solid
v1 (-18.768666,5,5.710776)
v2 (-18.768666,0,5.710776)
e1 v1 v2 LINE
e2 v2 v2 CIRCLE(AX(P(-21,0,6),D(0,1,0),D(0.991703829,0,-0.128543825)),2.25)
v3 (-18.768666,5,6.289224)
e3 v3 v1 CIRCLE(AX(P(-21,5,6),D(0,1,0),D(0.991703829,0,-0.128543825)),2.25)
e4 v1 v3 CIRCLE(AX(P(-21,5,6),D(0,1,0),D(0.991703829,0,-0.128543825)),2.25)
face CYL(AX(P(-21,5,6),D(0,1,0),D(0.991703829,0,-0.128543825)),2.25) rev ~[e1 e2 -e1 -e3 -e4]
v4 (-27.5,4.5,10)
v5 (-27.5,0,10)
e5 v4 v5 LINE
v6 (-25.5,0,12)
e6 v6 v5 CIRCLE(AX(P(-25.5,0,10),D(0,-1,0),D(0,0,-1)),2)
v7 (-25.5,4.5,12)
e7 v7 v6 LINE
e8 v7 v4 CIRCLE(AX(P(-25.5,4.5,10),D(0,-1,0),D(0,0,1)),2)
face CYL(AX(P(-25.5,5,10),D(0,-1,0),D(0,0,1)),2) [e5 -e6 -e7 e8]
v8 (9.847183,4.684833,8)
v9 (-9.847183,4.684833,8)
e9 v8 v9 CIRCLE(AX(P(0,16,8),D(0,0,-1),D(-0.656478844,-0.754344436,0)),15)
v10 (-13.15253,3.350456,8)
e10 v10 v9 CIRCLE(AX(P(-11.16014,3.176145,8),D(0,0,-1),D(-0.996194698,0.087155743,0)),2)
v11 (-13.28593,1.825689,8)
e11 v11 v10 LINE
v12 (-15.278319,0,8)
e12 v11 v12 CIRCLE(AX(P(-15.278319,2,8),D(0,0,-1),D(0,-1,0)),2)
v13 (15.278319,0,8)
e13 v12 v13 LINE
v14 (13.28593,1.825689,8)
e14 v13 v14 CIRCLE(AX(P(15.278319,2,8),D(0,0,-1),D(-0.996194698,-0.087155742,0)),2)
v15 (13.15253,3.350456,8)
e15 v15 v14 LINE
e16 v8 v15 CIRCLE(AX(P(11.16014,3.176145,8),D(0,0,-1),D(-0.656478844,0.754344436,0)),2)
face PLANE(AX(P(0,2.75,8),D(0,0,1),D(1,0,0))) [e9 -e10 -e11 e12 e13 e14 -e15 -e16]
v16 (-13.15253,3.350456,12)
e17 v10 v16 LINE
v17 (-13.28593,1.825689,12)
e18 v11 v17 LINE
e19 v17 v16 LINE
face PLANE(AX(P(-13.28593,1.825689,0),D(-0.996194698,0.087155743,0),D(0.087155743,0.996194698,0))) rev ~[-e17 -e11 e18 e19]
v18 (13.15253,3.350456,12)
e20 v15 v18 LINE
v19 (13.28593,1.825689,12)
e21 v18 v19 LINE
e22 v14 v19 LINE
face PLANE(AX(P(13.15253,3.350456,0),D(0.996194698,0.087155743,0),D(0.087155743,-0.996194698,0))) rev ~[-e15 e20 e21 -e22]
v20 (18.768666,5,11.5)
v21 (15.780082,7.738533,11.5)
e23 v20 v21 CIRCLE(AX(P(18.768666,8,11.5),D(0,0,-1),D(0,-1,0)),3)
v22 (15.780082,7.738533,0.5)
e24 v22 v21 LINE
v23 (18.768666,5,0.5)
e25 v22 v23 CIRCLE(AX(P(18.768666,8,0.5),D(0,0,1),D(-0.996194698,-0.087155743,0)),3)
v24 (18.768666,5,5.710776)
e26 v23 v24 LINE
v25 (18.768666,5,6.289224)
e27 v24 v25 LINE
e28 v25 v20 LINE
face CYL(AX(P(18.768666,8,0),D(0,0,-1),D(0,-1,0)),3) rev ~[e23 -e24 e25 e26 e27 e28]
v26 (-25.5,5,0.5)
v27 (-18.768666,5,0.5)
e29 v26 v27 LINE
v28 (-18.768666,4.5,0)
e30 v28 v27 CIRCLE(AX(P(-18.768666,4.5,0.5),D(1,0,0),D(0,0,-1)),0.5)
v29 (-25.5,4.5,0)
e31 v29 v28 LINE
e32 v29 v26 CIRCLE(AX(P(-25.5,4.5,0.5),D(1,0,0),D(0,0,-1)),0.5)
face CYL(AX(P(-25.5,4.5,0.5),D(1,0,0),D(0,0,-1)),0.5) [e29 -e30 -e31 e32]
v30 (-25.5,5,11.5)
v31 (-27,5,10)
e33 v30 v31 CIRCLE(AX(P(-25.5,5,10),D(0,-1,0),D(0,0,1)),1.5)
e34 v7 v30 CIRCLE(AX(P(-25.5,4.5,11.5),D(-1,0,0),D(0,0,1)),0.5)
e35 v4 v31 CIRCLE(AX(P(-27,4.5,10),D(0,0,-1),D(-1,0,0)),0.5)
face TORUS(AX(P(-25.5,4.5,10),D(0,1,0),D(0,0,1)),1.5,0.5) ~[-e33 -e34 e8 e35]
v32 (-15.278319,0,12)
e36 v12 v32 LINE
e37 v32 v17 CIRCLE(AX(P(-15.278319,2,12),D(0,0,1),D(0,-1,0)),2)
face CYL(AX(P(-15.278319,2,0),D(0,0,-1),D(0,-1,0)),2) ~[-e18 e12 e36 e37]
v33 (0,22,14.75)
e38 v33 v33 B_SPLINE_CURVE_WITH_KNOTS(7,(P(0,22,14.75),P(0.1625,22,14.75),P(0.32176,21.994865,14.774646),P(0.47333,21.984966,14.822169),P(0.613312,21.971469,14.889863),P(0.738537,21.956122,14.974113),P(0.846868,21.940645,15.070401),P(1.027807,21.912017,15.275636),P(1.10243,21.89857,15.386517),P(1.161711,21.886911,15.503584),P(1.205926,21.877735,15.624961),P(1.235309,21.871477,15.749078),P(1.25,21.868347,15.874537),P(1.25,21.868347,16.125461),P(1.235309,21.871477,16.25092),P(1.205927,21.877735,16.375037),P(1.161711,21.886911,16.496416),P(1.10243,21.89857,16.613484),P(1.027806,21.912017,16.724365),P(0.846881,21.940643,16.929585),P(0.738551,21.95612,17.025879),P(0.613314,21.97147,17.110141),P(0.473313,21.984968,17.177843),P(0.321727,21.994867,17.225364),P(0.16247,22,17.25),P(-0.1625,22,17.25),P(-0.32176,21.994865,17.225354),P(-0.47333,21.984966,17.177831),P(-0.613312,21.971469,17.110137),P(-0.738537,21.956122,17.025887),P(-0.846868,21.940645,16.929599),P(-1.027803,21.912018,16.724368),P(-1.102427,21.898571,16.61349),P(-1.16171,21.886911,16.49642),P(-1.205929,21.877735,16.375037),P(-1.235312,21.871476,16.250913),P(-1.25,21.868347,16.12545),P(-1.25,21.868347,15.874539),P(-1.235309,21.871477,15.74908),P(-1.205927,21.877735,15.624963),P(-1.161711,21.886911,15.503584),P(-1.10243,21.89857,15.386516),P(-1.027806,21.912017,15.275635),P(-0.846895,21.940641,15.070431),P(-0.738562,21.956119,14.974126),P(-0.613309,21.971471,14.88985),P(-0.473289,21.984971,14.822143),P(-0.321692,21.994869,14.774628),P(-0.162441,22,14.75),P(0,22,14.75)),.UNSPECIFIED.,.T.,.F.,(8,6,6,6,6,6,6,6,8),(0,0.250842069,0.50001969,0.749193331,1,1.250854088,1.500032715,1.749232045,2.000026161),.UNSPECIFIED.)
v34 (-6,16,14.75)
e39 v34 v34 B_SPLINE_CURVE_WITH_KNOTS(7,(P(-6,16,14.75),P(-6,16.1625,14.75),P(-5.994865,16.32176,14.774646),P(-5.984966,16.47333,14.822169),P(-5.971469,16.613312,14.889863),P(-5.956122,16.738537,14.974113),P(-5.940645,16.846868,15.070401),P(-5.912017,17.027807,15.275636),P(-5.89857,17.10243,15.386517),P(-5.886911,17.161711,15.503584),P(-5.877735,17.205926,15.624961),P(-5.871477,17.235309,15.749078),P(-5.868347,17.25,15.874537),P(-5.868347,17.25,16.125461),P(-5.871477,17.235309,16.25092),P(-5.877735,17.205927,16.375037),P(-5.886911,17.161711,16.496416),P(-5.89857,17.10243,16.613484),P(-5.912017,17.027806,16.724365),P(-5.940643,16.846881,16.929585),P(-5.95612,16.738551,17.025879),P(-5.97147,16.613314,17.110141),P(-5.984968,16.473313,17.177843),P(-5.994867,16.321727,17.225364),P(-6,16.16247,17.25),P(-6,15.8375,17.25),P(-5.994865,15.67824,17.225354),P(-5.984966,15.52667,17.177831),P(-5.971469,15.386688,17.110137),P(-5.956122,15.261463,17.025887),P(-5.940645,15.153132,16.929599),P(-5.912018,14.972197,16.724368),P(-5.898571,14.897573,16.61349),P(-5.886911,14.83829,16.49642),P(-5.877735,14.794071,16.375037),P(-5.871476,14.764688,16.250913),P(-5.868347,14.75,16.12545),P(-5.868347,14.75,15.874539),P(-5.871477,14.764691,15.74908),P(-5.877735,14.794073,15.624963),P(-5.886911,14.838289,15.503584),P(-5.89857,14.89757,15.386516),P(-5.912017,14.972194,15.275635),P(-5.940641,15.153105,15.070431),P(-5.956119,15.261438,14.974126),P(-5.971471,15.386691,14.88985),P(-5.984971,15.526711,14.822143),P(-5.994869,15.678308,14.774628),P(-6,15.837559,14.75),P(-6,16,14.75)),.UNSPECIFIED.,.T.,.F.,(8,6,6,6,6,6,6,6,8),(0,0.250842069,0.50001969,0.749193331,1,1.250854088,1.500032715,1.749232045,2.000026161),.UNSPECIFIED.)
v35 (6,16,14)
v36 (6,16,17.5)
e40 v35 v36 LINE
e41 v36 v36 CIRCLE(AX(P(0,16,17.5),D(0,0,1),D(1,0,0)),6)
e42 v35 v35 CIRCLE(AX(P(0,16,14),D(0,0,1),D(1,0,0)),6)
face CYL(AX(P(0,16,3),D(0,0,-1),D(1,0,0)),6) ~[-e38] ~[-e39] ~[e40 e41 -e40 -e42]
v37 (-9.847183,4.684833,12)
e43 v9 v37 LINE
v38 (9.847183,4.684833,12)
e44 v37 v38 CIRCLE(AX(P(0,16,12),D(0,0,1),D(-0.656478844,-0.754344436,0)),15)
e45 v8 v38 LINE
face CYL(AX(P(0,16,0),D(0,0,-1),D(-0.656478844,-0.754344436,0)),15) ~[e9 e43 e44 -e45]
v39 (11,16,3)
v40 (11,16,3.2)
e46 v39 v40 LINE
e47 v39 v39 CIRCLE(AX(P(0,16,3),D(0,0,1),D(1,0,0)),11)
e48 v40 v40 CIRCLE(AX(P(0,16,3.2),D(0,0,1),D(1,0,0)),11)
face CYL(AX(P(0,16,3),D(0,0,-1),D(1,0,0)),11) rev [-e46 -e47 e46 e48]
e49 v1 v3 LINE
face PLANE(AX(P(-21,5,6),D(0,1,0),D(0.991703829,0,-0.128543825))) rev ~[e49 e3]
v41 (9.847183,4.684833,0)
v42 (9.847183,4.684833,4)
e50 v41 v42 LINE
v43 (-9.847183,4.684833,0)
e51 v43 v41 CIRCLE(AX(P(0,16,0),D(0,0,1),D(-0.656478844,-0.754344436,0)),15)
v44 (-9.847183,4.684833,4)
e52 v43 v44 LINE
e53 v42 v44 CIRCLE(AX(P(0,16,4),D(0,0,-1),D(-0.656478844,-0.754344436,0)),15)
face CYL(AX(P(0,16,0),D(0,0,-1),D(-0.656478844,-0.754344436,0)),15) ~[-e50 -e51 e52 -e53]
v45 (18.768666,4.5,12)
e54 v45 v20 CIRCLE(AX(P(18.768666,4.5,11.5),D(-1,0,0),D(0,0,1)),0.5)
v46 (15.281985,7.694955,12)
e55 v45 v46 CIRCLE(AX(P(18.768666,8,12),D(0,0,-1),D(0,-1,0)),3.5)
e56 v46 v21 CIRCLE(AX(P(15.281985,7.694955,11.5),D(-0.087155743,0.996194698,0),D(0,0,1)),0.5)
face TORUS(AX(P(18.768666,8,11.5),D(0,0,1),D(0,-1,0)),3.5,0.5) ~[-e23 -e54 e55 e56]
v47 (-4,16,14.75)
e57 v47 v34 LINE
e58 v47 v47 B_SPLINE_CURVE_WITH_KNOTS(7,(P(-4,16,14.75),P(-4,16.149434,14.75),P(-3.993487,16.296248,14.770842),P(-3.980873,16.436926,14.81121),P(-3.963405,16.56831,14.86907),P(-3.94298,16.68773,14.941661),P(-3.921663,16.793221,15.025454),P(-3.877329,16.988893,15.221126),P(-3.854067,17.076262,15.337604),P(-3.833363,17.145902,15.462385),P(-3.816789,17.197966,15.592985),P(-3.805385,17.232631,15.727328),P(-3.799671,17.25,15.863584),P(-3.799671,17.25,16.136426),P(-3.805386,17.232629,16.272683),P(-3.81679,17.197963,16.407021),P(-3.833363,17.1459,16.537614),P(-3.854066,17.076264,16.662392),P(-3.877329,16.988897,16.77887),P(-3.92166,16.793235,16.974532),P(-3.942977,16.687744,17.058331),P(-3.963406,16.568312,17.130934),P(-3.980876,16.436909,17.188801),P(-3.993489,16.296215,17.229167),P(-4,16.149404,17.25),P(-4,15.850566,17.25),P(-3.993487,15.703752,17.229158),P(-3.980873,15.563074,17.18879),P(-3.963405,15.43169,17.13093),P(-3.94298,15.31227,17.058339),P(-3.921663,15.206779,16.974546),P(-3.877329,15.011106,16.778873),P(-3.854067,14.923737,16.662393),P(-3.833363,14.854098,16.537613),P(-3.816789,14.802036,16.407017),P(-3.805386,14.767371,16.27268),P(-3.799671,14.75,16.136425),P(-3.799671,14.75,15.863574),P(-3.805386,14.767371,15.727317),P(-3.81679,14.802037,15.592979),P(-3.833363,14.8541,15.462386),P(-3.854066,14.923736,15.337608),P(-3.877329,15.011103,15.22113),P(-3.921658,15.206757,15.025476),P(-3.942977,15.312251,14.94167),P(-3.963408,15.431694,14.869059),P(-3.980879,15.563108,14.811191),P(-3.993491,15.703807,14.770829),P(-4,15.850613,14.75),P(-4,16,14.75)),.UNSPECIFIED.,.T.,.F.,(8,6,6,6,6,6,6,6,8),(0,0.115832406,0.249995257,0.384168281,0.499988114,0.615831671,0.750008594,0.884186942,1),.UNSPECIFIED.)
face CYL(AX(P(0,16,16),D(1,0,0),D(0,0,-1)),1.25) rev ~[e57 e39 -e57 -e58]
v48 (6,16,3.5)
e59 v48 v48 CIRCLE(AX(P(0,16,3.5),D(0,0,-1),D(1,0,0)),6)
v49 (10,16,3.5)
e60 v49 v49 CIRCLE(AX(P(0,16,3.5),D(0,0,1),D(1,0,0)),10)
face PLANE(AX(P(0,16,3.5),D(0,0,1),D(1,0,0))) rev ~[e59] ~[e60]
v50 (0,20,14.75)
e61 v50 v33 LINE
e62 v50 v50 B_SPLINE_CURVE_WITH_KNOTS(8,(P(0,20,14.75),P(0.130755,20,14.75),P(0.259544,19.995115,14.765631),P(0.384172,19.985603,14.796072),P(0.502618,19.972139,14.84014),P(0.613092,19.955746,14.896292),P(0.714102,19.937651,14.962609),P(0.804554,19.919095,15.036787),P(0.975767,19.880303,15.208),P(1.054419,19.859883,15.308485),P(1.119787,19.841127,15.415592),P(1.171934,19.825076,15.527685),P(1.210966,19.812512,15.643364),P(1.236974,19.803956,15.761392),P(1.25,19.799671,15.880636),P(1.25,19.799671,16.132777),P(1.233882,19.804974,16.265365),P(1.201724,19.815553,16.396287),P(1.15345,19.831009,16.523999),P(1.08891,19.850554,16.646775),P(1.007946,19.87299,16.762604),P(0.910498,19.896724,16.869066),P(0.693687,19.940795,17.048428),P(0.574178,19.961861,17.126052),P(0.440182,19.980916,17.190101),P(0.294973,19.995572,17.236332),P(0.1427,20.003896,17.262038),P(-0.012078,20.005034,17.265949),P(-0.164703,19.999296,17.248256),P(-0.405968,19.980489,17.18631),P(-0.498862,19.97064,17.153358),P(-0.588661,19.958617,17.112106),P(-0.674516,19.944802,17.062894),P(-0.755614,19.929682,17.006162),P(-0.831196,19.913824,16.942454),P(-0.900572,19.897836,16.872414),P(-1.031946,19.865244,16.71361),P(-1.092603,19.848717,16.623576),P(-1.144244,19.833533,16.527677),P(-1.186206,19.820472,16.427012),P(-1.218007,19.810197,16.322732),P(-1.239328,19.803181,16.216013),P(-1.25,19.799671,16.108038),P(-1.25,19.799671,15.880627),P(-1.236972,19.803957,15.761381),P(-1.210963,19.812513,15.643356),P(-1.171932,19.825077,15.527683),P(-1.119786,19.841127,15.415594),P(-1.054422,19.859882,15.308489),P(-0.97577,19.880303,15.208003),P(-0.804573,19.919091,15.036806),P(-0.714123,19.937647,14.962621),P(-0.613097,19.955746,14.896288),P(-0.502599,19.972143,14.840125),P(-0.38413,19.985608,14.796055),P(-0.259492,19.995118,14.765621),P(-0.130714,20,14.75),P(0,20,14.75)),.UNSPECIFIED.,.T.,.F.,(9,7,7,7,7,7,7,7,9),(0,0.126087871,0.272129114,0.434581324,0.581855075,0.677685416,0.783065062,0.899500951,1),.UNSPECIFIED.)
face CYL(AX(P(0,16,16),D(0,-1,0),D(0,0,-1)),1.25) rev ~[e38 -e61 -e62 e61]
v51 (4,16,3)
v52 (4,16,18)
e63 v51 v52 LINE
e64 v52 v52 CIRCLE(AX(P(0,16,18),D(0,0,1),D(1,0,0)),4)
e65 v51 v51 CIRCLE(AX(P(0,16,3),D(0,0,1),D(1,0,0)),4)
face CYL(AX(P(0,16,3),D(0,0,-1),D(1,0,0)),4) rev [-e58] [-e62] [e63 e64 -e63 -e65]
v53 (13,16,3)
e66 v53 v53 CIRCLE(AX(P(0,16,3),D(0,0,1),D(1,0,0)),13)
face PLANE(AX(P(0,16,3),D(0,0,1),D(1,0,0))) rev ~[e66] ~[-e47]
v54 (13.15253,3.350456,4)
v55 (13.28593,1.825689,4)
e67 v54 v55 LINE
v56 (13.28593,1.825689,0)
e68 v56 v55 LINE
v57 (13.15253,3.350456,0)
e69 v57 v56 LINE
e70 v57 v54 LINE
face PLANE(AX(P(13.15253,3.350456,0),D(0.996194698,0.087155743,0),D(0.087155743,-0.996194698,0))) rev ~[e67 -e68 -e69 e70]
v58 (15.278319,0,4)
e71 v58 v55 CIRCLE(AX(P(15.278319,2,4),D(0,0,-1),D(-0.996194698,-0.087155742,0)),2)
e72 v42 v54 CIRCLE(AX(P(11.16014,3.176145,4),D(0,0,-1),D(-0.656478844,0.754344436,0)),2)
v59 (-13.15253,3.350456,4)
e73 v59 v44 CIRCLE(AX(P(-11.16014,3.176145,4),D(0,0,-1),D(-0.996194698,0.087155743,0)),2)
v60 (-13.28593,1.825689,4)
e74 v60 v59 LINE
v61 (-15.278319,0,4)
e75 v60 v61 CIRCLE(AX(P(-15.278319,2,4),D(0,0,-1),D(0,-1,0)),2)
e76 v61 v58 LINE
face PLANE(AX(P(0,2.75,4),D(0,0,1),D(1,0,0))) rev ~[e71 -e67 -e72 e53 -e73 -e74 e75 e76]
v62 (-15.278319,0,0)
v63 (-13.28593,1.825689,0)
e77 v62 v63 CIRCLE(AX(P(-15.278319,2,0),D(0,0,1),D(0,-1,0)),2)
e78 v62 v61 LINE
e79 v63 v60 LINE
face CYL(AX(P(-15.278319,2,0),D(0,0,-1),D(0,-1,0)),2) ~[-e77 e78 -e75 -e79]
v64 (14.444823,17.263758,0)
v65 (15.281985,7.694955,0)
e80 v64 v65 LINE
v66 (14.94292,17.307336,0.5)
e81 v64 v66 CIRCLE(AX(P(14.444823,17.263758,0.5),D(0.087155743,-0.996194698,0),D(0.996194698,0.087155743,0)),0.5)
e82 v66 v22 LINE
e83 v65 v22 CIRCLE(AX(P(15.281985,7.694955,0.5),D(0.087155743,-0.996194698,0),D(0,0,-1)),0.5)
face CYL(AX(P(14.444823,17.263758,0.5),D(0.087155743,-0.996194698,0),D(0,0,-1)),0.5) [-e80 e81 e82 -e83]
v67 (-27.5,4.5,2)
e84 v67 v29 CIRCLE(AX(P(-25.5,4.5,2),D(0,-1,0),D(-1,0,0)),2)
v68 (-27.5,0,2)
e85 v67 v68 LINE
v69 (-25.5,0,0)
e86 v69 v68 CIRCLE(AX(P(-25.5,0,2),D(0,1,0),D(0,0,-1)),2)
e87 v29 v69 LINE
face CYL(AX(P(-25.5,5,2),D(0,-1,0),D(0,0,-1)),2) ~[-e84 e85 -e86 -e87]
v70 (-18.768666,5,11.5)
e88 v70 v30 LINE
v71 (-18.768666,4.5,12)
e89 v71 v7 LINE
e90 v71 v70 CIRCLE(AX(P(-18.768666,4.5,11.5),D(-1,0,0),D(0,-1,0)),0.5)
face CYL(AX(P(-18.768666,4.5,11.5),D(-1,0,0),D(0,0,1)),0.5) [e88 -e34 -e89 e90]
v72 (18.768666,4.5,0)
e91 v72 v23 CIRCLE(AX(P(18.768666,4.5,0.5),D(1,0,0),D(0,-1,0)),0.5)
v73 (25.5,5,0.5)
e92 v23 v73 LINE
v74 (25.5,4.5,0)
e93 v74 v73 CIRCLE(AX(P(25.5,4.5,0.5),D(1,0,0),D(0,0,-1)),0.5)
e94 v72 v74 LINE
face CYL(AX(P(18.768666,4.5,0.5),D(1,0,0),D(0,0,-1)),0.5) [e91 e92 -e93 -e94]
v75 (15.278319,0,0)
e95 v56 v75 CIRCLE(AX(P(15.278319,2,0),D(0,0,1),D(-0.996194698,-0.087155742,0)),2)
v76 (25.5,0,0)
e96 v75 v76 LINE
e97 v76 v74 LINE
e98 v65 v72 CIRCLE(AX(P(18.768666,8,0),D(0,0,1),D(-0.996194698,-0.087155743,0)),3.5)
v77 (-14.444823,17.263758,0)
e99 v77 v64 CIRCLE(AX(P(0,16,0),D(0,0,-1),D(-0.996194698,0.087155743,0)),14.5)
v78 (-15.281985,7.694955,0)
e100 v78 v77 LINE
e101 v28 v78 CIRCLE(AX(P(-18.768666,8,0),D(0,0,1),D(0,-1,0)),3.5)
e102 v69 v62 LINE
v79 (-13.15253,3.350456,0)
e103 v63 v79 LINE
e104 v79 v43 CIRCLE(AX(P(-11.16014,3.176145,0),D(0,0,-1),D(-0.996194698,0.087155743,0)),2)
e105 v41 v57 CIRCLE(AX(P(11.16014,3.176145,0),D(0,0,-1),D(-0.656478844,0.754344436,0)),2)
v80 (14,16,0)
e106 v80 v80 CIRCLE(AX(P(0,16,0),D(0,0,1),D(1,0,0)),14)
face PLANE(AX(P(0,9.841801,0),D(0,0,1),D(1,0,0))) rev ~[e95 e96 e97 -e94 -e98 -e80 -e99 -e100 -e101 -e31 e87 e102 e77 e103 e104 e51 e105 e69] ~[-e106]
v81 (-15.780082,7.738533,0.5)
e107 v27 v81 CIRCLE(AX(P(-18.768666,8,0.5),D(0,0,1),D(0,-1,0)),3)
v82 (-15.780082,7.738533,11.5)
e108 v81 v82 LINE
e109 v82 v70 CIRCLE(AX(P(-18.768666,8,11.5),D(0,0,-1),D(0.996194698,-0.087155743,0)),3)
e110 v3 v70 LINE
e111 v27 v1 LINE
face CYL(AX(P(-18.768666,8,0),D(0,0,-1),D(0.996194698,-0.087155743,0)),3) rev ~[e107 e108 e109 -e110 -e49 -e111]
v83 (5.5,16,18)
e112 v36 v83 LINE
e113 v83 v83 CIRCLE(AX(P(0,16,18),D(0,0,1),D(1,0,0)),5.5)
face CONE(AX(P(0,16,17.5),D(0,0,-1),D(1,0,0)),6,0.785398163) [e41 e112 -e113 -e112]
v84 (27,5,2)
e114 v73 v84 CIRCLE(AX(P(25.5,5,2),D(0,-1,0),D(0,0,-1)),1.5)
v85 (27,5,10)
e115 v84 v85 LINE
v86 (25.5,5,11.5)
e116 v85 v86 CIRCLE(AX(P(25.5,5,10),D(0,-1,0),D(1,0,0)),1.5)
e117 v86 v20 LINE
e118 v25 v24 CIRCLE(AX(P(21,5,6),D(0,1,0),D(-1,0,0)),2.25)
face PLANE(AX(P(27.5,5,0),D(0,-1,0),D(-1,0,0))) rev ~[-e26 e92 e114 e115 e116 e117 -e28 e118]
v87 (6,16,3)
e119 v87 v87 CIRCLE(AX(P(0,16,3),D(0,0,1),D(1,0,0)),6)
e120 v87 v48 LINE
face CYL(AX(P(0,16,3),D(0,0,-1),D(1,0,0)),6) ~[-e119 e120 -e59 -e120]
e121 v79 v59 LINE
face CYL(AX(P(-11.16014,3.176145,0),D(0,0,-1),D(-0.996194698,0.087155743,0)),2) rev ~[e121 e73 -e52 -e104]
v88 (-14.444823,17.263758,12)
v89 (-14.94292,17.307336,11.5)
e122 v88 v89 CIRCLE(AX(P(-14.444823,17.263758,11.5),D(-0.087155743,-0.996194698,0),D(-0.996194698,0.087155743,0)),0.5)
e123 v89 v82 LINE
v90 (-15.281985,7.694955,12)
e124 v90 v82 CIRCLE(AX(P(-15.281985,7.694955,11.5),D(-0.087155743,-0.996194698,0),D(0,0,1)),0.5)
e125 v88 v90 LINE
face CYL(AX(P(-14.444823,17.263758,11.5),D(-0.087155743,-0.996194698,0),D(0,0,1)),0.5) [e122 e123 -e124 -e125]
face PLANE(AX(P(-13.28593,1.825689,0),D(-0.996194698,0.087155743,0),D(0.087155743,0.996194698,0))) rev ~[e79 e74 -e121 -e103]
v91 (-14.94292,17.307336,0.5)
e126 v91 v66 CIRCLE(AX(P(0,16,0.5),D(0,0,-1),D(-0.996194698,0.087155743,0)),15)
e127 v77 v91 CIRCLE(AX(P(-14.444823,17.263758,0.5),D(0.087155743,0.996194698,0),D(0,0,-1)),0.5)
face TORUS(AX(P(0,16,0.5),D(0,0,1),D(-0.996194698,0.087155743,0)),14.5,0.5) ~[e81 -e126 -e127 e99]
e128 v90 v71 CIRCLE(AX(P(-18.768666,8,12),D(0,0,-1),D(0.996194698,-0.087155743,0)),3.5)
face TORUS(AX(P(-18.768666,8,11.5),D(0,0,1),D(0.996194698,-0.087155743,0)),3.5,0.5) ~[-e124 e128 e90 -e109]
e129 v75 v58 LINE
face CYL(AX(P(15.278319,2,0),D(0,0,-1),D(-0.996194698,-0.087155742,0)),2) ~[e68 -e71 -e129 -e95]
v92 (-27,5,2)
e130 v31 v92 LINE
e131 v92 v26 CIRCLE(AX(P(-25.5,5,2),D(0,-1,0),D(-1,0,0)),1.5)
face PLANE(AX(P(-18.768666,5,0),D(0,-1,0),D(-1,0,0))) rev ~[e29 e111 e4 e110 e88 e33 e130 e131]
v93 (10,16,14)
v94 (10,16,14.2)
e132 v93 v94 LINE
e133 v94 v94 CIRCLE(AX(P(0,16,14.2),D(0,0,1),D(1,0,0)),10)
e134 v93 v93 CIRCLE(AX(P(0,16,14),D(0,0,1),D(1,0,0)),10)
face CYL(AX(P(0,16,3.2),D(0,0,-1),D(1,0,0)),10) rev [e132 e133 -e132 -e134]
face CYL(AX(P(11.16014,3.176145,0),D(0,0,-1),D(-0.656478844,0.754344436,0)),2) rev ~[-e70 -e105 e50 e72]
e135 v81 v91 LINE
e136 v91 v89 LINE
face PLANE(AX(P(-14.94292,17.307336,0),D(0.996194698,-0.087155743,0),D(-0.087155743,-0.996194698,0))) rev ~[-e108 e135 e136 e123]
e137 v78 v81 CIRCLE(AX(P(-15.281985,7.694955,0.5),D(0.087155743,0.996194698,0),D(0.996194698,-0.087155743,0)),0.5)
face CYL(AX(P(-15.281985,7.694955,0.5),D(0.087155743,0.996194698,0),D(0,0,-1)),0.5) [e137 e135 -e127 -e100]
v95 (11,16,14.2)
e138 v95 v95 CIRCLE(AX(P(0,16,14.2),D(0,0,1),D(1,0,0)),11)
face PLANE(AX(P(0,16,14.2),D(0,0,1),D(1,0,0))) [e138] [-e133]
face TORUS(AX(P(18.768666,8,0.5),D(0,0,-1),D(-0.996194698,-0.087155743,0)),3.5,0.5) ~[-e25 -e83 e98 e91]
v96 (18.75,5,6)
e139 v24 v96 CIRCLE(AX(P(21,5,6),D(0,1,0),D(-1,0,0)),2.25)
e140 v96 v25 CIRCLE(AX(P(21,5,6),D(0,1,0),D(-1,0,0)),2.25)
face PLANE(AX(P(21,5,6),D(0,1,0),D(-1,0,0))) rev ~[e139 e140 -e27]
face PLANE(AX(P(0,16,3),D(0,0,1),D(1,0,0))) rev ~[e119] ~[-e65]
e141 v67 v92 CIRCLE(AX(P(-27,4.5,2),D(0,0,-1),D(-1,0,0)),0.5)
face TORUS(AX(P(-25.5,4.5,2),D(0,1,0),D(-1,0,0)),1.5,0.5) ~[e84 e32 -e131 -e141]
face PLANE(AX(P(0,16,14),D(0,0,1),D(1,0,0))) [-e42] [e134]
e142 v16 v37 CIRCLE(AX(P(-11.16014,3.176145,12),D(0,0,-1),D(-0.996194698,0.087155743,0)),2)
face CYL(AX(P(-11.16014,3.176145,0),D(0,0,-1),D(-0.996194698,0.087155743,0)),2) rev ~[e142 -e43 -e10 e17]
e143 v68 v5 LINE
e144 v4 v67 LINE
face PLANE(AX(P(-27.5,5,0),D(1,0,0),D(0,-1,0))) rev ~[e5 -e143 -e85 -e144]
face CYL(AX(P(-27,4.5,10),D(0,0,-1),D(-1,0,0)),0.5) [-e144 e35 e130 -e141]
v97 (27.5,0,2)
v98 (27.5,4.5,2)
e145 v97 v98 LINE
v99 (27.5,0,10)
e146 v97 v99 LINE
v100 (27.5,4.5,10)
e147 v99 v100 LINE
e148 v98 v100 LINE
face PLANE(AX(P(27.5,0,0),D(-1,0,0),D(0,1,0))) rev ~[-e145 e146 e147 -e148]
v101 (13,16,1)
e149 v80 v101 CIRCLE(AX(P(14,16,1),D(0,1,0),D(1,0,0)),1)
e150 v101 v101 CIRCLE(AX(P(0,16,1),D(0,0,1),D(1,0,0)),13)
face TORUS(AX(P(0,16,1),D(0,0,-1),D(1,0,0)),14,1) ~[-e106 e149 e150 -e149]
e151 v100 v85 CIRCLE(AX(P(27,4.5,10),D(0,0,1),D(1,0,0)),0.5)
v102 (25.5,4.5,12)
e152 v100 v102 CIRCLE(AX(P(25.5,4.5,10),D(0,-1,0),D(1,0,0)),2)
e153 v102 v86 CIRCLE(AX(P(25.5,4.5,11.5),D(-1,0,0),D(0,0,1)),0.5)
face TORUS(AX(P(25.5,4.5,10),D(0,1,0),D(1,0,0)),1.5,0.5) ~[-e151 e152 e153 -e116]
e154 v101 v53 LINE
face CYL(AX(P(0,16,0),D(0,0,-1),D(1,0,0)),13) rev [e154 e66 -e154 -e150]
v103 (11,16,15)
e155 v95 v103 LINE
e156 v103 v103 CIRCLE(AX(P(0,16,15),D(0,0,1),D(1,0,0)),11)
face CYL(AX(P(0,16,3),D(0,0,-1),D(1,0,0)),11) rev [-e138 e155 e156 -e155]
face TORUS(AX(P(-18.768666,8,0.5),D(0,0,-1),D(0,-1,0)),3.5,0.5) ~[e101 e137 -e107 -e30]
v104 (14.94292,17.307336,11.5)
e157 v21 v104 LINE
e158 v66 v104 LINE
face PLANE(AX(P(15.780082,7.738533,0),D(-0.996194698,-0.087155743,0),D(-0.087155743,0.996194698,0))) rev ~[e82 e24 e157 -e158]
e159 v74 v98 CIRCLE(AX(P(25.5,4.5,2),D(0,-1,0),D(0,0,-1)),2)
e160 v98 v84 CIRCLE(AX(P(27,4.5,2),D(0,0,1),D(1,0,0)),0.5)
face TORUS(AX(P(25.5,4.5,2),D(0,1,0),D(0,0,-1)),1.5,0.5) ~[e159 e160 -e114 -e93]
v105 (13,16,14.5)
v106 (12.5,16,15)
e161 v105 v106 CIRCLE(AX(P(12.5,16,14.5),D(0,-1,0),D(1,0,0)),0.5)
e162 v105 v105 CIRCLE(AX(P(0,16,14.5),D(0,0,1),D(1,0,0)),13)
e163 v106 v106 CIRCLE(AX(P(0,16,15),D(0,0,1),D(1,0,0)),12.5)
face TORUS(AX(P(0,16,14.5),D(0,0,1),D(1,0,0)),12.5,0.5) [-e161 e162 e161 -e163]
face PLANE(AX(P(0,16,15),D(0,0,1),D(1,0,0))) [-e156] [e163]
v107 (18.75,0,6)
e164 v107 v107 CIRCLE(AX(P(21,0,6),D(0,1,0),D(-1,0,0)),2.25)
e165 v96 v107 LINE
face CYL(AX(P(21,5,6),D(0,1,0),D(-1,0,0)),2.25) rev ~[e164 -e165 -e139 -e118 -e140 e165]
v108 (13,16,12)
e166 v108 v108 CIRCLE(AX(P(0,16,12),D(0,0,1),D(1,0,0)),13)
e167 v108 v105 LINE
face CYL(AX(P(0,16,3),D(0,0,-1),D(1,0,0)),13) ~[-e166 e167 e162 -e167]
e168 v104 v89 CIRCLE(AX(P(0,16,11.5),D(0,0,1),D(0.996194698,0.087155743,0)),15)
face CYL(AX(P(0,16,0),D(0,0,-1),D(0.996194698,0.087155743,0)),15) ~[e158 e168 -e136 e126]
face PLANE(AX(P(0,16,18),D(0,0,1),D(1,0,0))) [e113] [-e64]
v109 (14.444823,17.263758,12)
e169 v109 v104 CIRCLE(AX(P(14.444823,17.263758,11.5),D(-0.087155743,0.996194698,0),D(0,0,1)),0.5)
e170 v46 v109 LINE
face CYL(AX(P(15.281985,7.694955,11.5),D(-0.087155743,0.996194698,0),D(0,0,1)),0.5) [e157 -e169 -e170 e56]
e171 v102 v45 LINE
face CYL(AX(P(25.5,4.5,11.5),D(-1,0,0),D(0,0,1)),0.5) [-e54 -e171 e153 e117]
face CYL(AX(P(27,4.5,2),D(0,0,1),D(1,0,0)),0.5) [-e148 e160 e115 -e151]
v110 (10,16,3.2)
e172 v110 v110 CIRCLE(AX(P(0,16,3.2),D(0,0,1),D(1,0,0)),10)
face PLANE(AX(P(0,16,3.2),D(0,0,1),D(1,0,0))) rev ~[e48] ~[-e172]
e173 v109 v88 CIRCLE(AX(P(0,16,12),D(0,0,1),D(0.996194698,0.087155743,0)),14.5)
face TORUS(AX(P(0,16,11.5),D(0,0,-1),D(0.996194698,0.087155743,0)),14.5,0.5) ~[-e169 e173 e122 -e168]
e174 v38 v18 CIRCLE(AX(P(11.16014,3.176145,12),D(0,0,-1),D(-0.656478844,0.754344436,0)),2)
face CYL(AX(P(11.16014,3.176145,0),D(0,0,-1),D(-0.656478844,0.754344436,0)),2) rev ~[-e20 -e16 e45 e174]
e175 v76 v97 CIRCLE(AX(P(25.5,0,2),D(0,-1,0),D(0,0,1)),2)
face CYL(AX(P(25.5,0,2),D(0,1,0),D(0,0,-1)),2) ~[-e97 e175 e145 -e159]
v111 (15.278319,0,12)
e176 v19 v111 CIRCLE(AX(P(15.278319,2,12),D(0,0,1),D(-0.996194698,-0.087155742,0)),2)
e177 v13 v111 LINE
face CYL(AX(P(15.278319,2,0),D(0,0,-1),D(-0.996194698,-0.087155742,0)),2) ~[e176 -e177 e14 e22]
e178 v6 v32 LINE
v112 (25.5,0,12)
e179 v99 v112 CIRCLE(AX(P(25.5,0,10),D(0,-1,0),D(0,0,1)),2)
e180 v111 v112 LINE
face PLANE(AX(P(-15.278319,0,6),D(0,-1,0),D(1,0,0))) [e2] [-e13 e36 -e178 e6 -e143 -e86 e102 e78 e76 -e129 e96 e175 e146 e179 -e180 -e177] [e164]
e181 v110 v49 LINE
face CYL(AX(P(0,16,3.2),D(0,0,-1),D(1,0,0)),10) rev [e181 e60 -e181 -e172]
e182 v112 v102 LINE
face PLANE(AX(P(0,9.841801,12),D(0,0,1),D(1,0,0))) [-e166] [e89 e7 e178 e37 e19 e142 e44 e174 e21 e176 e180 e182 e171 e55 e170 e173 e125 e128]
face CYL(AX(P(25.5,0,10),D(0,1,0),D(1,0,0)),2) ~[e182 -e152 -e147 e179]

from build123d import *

# Parameters (mm, degrees)
SKETCH1_R               = 13
BOSS_EXTRUDE1_DEPTH     = 12
BOSS_EXTRUDE2_START     = 3
SKETCH1_3_R             = 13
SKETCH1_3_R_2           = 11
BOSS_EXTRUDE2_DEPTH     = 12
BOSS_EXTRUDE3_START     = 3.2
SKETCH1_4_R             = 11
SKETCH1_4_R_2           = 10
BOSS_EXTRUDE3_DEPTH     = 11
BOSS_EXTRUDE4_START     = 3.5
SKETCH1_6_R             = 10
SKETCH1_6_R_2           = 6
BOSS_EXTRUDE4_DEPTH     = 10.5
BOSS_EXTRUDE5_START     = 3
SKETCH1_7_R             = 6
SKETCH1_7_R_2           = 4
BOSS_EXTRUDE5_DEPTH     = 15
SKETCH2_W               = 30.55663803
SKETCH2_H               = 5.5
BOSS_EXTRUDE6_DEPTH     = 2
CUT_EXTRUDE1_REACH      = 47.18
CUT_EXTRUDE1_END_RADIUS = 6
SKETCH3_R               = 1.25
CIRPATTERN1_COUNT       = 2
CIRPATTERN1_ANGLE       = 90
FILLET1_R               = 2
FILLET2_R               = 0.5
FILLET3_R               = 1
CHAMFER1_SIZE           = 0.5
SKETCH4_R               = 2.25
CUT_EXTRUDE2_DEPTH      = 42.907636579


with BuildPart() as part:
    # Sketch1 → Boss-Extrude1 (new body)
    with BuildSketch(Plane.XY):
        with BuildLine():
            Line((15.78008229, 7.738532772), (14.942920471, 17.307336141))
            ThreePointArc((14.942920471, 17.307336141), (0, 31), (-14.942920471, 17.307336141))
            Line((-14.942920471, 17.307336141), (-15.78008229, 7.738532772))
            ThreePointArc((-15.78008229, 7.738532772), (-16.741895761, 5.78816799), (-18.768666384, 5))
            Line((-18.768666384, 5), (-27.5, 5))
            Line((-27.5, 5), (-27.5, 0))
            Line((-27.5, 0), (-15.278319015, 0))
            ThreePointArc((-15.278319015, 0), (-13.9271386, 0.525445326), (-13.285929619, 1.825688515))
            Line((-13.285929619, 1.825688515), (-13.152529742, 3.35045608))
            ThreePointArc((-13.152529742, 3.35045608), (-11.908837624, 5.030720661), (-9.847182658, 4.684833466))
            ThreePointArc((-9.847182658, 4.684833466), (0, 1), (9.847182658, 4.684833466))
            ThreePointArc((9.847182658, 4.684833466), (11.908837624, 5.030720661), (13.152529742, 3.35045608))
            Line((13.152529742, 3.35045608), (13.285929619, 1.825688515))
            ThreePointArc((13.285929619, 1.825688515), (13.9271386, 0.525445326), (15.278319015, 0))
            Line((15.278319015, 0), (27.5, 0))
            Line((27.5, 0), (27.5, 5))
            Line((27.5, 5), (18.768666384, 5))
            ThreePointArc((18.768666384, 5), (16.741895761, 5.78816799), (15.78008229, 7.738532772))
        make_face()
        with Locations((0, 16)):
            Circle(SKETCH1_R, mode=Mode.SUBTRACT)
    extrude(amount=BOSS_EXTRUDE1_DEPTH)

    # Sketch1<3> → Boss-Extrude2 (add)
    with BuildSketch(Plane.XY.offset(BOSS_EXTRUDE2_START)):
        with Locations((0, 16)):
            Circle(SKETCH1_3_R)
        with Locations((0, 16)):
            Circle(SKETCH1_3_R_2, mode=Mode.SUBTRACT)
    extrude(amount=BOSS_EXTRUDE2_DEPTH)

    # Sketch1<4> → Boss-Extrude3 (add)
    with BuildSketch(Plane.XY.offset(BOSS_EXTRUDE3_START)):
        with Locations((0, 16)):
            Circle(SKETCH1_4_R)
        with Locations((0, 16)):
            Circle(SKETCH1_4_R_2, mode=Mode.SUBTRACT)
    extrude(amount=BOSS_EXTRUDE3_DEPTH)

    # Sketch1<6> → Boss-Extrude4 (add)
    with BuildSketch(Plane.XY.offset(BOSS_EXTRUDE4_START)):
        with Locations((0, 16)):
            Circle(SKETCH1_6_R)
        with Locations(Location((0, 16, 0), (0, 0, 180))):
            Circle(SKETCH1_6_R_2, mode=Mode.SUBTRACT)
    extrude(amount=BOSS_EXTRUDE4_DEPTH)

    # Sketch1<7> → Boss-Extrude5 (add)
    with BuildSketch(Plane.XY.offset(BOSS_EXTRUDE5_START)):
        with Locations((0, 16)):
            Circle(SKETCH1_7_R)
        with Locations((0, 16)):
            Circle(SKETCH1_7_R_2, mode=Mode.SUBTRACT)
    extrude(amount=BOSS_EXTRUDE5_DEPTH)

    # Sketch2 → Boss-Extrude6 (add, symmetric)
    with BuildSketch(Plane.XY.offset(6)):
        with Locations((0, 2.75)):
            Rectangle(SKETCH2_W, SKETCH2_H)
    extrude(amount=BOSS_EXTRUDE6_DEPTH, both=True)

    # Cut-Extrude1: up to this cylinder (the profile starts inside it)
    cut_extrude1_end = Plane(origin=(0, 16, 16), z_dir=(0, 0, -1)) * Cylinder(CUT_EXTRUDE1_END_RADIUS, 107.36, mode=Mode.PRIVATE)
    # Sketch3 → Cut-Extrude1 (cut, up to the surface)
    with BuildSketch(Plane(origin=(0, 0, 0), x_dir=(0, 0, -1), z_dir=(1, 0, 0)), mode=Mode.PRIVATE) as cut_extrude1_sk1:
        with Locations((-16, 16)):
            Circle(SKETCH3_R)
    cut_extrude1_tool1 = extrude(cut_extrude1_sk1.sketch, amount=-CUT_EXTRUDE1_REACH, mode=Mode.PRIVATE) & cut_extrude1_end
    cut_extrude1 = cut_extrude1_tool1.solids().sort_by_distance((0, 16, 16))[0]
    add(cut_extrude1, mode=Mode.SUBTRACT)

    # CirPattern1: Cut-Extrude1 ×2 about axis
    cirpattern1_axis = Axis((0, 16, 18), (0, 0, -1))
    for i in range(1, CIRPATTERN1_COUNT):
        add(cut_extrude1.rotate(cirpattern1_axis, i * CIRPATTERN1_ANGLE / (CIRPATTERN1_COUNT - 1)), mode=Mode.SUBTRACT)

    # Fillet1
    fillet1_edges = [part.edges().sort_by_distance(p)[0] for p in [
        (27.5, 2.5, 0),
        (-27.5, 2.5, 0),
        (-27.5, 2.5, 12),
        (27.5, 2.5, 12),
    ]]
    fillet(fillet1_edges, radius=FILLET1_R)

    # Fillet2
    fillet2_edges = [part.edges().sort_by_distance(p)[0] for p in [
        (15.361501381, 12.522934456, 12),
        (22.134333192, 5, 0),
        (-22.134333192, 5, 0),
        (-27.5, 5, 6),
        (-22.134333192, 5, 12),
        (-26.914213562, 5, 11.414213562),
        (-26.914213562, 5, 0.585786438),
        (22.134333192, 5, 12),
        (27.5, 5, 6),
        (26.914213562, 5, 11.414213562),
        (26.914213562, 5, 0.585786438),
        (0, 31, 12),
        (-15.361501381, 12.522934456, 12),
        (16.741895761, 5.78816799, 0),
        (-16.741895761, 5.78816799, 12),
        (-16.741895761, 5.78816799, 0),
        (-15.361501381, 12.522934456, 0),
        (0, 31, 0),
        (15.361501381, 12.522934456, 0),
        (-13, 16, 15),
        (16.741895761, 5.78816799, 12),
    ]]
    fillet(fillet2_edges, radius=FILLET2_R)

    # Fillet3
    fillet3_edges = [part.edges().sort_by_distance(p)[0] for p in [
        (-13, 16, 0),
    ]]
    fillet(fillet3_edges, radius=FILLET3_R)

    # Chamfer1
    chamfer1_edges = [part.edges().sort_by_distance(p)[0] for p in [
        (-6, 16, 18),
    ]]
    chamfer(chamfer1_edges, length=CHAMFER1_SIZE)

    # Sketch4 → Cut-Extrude2 (cut, through all)
    with BuildSketch(Plane(origin=(0, 5, 0), x_dir=(1, 0, 0), z_dir=(0, 1, 0))):
        with Locations(Location((21, -6, 0), (0, 0, 180))):
            Circle(SKETCH4_R)
        with Locations(Location((-21, -6, 0), (0, 0, 7.385453619))):
            Circle(SKETCH4_R)
    extrude(amount=-CUT_EXTRUDE2_DEPTH, mode=Mode.SUBTRACT)


solid = part.part
